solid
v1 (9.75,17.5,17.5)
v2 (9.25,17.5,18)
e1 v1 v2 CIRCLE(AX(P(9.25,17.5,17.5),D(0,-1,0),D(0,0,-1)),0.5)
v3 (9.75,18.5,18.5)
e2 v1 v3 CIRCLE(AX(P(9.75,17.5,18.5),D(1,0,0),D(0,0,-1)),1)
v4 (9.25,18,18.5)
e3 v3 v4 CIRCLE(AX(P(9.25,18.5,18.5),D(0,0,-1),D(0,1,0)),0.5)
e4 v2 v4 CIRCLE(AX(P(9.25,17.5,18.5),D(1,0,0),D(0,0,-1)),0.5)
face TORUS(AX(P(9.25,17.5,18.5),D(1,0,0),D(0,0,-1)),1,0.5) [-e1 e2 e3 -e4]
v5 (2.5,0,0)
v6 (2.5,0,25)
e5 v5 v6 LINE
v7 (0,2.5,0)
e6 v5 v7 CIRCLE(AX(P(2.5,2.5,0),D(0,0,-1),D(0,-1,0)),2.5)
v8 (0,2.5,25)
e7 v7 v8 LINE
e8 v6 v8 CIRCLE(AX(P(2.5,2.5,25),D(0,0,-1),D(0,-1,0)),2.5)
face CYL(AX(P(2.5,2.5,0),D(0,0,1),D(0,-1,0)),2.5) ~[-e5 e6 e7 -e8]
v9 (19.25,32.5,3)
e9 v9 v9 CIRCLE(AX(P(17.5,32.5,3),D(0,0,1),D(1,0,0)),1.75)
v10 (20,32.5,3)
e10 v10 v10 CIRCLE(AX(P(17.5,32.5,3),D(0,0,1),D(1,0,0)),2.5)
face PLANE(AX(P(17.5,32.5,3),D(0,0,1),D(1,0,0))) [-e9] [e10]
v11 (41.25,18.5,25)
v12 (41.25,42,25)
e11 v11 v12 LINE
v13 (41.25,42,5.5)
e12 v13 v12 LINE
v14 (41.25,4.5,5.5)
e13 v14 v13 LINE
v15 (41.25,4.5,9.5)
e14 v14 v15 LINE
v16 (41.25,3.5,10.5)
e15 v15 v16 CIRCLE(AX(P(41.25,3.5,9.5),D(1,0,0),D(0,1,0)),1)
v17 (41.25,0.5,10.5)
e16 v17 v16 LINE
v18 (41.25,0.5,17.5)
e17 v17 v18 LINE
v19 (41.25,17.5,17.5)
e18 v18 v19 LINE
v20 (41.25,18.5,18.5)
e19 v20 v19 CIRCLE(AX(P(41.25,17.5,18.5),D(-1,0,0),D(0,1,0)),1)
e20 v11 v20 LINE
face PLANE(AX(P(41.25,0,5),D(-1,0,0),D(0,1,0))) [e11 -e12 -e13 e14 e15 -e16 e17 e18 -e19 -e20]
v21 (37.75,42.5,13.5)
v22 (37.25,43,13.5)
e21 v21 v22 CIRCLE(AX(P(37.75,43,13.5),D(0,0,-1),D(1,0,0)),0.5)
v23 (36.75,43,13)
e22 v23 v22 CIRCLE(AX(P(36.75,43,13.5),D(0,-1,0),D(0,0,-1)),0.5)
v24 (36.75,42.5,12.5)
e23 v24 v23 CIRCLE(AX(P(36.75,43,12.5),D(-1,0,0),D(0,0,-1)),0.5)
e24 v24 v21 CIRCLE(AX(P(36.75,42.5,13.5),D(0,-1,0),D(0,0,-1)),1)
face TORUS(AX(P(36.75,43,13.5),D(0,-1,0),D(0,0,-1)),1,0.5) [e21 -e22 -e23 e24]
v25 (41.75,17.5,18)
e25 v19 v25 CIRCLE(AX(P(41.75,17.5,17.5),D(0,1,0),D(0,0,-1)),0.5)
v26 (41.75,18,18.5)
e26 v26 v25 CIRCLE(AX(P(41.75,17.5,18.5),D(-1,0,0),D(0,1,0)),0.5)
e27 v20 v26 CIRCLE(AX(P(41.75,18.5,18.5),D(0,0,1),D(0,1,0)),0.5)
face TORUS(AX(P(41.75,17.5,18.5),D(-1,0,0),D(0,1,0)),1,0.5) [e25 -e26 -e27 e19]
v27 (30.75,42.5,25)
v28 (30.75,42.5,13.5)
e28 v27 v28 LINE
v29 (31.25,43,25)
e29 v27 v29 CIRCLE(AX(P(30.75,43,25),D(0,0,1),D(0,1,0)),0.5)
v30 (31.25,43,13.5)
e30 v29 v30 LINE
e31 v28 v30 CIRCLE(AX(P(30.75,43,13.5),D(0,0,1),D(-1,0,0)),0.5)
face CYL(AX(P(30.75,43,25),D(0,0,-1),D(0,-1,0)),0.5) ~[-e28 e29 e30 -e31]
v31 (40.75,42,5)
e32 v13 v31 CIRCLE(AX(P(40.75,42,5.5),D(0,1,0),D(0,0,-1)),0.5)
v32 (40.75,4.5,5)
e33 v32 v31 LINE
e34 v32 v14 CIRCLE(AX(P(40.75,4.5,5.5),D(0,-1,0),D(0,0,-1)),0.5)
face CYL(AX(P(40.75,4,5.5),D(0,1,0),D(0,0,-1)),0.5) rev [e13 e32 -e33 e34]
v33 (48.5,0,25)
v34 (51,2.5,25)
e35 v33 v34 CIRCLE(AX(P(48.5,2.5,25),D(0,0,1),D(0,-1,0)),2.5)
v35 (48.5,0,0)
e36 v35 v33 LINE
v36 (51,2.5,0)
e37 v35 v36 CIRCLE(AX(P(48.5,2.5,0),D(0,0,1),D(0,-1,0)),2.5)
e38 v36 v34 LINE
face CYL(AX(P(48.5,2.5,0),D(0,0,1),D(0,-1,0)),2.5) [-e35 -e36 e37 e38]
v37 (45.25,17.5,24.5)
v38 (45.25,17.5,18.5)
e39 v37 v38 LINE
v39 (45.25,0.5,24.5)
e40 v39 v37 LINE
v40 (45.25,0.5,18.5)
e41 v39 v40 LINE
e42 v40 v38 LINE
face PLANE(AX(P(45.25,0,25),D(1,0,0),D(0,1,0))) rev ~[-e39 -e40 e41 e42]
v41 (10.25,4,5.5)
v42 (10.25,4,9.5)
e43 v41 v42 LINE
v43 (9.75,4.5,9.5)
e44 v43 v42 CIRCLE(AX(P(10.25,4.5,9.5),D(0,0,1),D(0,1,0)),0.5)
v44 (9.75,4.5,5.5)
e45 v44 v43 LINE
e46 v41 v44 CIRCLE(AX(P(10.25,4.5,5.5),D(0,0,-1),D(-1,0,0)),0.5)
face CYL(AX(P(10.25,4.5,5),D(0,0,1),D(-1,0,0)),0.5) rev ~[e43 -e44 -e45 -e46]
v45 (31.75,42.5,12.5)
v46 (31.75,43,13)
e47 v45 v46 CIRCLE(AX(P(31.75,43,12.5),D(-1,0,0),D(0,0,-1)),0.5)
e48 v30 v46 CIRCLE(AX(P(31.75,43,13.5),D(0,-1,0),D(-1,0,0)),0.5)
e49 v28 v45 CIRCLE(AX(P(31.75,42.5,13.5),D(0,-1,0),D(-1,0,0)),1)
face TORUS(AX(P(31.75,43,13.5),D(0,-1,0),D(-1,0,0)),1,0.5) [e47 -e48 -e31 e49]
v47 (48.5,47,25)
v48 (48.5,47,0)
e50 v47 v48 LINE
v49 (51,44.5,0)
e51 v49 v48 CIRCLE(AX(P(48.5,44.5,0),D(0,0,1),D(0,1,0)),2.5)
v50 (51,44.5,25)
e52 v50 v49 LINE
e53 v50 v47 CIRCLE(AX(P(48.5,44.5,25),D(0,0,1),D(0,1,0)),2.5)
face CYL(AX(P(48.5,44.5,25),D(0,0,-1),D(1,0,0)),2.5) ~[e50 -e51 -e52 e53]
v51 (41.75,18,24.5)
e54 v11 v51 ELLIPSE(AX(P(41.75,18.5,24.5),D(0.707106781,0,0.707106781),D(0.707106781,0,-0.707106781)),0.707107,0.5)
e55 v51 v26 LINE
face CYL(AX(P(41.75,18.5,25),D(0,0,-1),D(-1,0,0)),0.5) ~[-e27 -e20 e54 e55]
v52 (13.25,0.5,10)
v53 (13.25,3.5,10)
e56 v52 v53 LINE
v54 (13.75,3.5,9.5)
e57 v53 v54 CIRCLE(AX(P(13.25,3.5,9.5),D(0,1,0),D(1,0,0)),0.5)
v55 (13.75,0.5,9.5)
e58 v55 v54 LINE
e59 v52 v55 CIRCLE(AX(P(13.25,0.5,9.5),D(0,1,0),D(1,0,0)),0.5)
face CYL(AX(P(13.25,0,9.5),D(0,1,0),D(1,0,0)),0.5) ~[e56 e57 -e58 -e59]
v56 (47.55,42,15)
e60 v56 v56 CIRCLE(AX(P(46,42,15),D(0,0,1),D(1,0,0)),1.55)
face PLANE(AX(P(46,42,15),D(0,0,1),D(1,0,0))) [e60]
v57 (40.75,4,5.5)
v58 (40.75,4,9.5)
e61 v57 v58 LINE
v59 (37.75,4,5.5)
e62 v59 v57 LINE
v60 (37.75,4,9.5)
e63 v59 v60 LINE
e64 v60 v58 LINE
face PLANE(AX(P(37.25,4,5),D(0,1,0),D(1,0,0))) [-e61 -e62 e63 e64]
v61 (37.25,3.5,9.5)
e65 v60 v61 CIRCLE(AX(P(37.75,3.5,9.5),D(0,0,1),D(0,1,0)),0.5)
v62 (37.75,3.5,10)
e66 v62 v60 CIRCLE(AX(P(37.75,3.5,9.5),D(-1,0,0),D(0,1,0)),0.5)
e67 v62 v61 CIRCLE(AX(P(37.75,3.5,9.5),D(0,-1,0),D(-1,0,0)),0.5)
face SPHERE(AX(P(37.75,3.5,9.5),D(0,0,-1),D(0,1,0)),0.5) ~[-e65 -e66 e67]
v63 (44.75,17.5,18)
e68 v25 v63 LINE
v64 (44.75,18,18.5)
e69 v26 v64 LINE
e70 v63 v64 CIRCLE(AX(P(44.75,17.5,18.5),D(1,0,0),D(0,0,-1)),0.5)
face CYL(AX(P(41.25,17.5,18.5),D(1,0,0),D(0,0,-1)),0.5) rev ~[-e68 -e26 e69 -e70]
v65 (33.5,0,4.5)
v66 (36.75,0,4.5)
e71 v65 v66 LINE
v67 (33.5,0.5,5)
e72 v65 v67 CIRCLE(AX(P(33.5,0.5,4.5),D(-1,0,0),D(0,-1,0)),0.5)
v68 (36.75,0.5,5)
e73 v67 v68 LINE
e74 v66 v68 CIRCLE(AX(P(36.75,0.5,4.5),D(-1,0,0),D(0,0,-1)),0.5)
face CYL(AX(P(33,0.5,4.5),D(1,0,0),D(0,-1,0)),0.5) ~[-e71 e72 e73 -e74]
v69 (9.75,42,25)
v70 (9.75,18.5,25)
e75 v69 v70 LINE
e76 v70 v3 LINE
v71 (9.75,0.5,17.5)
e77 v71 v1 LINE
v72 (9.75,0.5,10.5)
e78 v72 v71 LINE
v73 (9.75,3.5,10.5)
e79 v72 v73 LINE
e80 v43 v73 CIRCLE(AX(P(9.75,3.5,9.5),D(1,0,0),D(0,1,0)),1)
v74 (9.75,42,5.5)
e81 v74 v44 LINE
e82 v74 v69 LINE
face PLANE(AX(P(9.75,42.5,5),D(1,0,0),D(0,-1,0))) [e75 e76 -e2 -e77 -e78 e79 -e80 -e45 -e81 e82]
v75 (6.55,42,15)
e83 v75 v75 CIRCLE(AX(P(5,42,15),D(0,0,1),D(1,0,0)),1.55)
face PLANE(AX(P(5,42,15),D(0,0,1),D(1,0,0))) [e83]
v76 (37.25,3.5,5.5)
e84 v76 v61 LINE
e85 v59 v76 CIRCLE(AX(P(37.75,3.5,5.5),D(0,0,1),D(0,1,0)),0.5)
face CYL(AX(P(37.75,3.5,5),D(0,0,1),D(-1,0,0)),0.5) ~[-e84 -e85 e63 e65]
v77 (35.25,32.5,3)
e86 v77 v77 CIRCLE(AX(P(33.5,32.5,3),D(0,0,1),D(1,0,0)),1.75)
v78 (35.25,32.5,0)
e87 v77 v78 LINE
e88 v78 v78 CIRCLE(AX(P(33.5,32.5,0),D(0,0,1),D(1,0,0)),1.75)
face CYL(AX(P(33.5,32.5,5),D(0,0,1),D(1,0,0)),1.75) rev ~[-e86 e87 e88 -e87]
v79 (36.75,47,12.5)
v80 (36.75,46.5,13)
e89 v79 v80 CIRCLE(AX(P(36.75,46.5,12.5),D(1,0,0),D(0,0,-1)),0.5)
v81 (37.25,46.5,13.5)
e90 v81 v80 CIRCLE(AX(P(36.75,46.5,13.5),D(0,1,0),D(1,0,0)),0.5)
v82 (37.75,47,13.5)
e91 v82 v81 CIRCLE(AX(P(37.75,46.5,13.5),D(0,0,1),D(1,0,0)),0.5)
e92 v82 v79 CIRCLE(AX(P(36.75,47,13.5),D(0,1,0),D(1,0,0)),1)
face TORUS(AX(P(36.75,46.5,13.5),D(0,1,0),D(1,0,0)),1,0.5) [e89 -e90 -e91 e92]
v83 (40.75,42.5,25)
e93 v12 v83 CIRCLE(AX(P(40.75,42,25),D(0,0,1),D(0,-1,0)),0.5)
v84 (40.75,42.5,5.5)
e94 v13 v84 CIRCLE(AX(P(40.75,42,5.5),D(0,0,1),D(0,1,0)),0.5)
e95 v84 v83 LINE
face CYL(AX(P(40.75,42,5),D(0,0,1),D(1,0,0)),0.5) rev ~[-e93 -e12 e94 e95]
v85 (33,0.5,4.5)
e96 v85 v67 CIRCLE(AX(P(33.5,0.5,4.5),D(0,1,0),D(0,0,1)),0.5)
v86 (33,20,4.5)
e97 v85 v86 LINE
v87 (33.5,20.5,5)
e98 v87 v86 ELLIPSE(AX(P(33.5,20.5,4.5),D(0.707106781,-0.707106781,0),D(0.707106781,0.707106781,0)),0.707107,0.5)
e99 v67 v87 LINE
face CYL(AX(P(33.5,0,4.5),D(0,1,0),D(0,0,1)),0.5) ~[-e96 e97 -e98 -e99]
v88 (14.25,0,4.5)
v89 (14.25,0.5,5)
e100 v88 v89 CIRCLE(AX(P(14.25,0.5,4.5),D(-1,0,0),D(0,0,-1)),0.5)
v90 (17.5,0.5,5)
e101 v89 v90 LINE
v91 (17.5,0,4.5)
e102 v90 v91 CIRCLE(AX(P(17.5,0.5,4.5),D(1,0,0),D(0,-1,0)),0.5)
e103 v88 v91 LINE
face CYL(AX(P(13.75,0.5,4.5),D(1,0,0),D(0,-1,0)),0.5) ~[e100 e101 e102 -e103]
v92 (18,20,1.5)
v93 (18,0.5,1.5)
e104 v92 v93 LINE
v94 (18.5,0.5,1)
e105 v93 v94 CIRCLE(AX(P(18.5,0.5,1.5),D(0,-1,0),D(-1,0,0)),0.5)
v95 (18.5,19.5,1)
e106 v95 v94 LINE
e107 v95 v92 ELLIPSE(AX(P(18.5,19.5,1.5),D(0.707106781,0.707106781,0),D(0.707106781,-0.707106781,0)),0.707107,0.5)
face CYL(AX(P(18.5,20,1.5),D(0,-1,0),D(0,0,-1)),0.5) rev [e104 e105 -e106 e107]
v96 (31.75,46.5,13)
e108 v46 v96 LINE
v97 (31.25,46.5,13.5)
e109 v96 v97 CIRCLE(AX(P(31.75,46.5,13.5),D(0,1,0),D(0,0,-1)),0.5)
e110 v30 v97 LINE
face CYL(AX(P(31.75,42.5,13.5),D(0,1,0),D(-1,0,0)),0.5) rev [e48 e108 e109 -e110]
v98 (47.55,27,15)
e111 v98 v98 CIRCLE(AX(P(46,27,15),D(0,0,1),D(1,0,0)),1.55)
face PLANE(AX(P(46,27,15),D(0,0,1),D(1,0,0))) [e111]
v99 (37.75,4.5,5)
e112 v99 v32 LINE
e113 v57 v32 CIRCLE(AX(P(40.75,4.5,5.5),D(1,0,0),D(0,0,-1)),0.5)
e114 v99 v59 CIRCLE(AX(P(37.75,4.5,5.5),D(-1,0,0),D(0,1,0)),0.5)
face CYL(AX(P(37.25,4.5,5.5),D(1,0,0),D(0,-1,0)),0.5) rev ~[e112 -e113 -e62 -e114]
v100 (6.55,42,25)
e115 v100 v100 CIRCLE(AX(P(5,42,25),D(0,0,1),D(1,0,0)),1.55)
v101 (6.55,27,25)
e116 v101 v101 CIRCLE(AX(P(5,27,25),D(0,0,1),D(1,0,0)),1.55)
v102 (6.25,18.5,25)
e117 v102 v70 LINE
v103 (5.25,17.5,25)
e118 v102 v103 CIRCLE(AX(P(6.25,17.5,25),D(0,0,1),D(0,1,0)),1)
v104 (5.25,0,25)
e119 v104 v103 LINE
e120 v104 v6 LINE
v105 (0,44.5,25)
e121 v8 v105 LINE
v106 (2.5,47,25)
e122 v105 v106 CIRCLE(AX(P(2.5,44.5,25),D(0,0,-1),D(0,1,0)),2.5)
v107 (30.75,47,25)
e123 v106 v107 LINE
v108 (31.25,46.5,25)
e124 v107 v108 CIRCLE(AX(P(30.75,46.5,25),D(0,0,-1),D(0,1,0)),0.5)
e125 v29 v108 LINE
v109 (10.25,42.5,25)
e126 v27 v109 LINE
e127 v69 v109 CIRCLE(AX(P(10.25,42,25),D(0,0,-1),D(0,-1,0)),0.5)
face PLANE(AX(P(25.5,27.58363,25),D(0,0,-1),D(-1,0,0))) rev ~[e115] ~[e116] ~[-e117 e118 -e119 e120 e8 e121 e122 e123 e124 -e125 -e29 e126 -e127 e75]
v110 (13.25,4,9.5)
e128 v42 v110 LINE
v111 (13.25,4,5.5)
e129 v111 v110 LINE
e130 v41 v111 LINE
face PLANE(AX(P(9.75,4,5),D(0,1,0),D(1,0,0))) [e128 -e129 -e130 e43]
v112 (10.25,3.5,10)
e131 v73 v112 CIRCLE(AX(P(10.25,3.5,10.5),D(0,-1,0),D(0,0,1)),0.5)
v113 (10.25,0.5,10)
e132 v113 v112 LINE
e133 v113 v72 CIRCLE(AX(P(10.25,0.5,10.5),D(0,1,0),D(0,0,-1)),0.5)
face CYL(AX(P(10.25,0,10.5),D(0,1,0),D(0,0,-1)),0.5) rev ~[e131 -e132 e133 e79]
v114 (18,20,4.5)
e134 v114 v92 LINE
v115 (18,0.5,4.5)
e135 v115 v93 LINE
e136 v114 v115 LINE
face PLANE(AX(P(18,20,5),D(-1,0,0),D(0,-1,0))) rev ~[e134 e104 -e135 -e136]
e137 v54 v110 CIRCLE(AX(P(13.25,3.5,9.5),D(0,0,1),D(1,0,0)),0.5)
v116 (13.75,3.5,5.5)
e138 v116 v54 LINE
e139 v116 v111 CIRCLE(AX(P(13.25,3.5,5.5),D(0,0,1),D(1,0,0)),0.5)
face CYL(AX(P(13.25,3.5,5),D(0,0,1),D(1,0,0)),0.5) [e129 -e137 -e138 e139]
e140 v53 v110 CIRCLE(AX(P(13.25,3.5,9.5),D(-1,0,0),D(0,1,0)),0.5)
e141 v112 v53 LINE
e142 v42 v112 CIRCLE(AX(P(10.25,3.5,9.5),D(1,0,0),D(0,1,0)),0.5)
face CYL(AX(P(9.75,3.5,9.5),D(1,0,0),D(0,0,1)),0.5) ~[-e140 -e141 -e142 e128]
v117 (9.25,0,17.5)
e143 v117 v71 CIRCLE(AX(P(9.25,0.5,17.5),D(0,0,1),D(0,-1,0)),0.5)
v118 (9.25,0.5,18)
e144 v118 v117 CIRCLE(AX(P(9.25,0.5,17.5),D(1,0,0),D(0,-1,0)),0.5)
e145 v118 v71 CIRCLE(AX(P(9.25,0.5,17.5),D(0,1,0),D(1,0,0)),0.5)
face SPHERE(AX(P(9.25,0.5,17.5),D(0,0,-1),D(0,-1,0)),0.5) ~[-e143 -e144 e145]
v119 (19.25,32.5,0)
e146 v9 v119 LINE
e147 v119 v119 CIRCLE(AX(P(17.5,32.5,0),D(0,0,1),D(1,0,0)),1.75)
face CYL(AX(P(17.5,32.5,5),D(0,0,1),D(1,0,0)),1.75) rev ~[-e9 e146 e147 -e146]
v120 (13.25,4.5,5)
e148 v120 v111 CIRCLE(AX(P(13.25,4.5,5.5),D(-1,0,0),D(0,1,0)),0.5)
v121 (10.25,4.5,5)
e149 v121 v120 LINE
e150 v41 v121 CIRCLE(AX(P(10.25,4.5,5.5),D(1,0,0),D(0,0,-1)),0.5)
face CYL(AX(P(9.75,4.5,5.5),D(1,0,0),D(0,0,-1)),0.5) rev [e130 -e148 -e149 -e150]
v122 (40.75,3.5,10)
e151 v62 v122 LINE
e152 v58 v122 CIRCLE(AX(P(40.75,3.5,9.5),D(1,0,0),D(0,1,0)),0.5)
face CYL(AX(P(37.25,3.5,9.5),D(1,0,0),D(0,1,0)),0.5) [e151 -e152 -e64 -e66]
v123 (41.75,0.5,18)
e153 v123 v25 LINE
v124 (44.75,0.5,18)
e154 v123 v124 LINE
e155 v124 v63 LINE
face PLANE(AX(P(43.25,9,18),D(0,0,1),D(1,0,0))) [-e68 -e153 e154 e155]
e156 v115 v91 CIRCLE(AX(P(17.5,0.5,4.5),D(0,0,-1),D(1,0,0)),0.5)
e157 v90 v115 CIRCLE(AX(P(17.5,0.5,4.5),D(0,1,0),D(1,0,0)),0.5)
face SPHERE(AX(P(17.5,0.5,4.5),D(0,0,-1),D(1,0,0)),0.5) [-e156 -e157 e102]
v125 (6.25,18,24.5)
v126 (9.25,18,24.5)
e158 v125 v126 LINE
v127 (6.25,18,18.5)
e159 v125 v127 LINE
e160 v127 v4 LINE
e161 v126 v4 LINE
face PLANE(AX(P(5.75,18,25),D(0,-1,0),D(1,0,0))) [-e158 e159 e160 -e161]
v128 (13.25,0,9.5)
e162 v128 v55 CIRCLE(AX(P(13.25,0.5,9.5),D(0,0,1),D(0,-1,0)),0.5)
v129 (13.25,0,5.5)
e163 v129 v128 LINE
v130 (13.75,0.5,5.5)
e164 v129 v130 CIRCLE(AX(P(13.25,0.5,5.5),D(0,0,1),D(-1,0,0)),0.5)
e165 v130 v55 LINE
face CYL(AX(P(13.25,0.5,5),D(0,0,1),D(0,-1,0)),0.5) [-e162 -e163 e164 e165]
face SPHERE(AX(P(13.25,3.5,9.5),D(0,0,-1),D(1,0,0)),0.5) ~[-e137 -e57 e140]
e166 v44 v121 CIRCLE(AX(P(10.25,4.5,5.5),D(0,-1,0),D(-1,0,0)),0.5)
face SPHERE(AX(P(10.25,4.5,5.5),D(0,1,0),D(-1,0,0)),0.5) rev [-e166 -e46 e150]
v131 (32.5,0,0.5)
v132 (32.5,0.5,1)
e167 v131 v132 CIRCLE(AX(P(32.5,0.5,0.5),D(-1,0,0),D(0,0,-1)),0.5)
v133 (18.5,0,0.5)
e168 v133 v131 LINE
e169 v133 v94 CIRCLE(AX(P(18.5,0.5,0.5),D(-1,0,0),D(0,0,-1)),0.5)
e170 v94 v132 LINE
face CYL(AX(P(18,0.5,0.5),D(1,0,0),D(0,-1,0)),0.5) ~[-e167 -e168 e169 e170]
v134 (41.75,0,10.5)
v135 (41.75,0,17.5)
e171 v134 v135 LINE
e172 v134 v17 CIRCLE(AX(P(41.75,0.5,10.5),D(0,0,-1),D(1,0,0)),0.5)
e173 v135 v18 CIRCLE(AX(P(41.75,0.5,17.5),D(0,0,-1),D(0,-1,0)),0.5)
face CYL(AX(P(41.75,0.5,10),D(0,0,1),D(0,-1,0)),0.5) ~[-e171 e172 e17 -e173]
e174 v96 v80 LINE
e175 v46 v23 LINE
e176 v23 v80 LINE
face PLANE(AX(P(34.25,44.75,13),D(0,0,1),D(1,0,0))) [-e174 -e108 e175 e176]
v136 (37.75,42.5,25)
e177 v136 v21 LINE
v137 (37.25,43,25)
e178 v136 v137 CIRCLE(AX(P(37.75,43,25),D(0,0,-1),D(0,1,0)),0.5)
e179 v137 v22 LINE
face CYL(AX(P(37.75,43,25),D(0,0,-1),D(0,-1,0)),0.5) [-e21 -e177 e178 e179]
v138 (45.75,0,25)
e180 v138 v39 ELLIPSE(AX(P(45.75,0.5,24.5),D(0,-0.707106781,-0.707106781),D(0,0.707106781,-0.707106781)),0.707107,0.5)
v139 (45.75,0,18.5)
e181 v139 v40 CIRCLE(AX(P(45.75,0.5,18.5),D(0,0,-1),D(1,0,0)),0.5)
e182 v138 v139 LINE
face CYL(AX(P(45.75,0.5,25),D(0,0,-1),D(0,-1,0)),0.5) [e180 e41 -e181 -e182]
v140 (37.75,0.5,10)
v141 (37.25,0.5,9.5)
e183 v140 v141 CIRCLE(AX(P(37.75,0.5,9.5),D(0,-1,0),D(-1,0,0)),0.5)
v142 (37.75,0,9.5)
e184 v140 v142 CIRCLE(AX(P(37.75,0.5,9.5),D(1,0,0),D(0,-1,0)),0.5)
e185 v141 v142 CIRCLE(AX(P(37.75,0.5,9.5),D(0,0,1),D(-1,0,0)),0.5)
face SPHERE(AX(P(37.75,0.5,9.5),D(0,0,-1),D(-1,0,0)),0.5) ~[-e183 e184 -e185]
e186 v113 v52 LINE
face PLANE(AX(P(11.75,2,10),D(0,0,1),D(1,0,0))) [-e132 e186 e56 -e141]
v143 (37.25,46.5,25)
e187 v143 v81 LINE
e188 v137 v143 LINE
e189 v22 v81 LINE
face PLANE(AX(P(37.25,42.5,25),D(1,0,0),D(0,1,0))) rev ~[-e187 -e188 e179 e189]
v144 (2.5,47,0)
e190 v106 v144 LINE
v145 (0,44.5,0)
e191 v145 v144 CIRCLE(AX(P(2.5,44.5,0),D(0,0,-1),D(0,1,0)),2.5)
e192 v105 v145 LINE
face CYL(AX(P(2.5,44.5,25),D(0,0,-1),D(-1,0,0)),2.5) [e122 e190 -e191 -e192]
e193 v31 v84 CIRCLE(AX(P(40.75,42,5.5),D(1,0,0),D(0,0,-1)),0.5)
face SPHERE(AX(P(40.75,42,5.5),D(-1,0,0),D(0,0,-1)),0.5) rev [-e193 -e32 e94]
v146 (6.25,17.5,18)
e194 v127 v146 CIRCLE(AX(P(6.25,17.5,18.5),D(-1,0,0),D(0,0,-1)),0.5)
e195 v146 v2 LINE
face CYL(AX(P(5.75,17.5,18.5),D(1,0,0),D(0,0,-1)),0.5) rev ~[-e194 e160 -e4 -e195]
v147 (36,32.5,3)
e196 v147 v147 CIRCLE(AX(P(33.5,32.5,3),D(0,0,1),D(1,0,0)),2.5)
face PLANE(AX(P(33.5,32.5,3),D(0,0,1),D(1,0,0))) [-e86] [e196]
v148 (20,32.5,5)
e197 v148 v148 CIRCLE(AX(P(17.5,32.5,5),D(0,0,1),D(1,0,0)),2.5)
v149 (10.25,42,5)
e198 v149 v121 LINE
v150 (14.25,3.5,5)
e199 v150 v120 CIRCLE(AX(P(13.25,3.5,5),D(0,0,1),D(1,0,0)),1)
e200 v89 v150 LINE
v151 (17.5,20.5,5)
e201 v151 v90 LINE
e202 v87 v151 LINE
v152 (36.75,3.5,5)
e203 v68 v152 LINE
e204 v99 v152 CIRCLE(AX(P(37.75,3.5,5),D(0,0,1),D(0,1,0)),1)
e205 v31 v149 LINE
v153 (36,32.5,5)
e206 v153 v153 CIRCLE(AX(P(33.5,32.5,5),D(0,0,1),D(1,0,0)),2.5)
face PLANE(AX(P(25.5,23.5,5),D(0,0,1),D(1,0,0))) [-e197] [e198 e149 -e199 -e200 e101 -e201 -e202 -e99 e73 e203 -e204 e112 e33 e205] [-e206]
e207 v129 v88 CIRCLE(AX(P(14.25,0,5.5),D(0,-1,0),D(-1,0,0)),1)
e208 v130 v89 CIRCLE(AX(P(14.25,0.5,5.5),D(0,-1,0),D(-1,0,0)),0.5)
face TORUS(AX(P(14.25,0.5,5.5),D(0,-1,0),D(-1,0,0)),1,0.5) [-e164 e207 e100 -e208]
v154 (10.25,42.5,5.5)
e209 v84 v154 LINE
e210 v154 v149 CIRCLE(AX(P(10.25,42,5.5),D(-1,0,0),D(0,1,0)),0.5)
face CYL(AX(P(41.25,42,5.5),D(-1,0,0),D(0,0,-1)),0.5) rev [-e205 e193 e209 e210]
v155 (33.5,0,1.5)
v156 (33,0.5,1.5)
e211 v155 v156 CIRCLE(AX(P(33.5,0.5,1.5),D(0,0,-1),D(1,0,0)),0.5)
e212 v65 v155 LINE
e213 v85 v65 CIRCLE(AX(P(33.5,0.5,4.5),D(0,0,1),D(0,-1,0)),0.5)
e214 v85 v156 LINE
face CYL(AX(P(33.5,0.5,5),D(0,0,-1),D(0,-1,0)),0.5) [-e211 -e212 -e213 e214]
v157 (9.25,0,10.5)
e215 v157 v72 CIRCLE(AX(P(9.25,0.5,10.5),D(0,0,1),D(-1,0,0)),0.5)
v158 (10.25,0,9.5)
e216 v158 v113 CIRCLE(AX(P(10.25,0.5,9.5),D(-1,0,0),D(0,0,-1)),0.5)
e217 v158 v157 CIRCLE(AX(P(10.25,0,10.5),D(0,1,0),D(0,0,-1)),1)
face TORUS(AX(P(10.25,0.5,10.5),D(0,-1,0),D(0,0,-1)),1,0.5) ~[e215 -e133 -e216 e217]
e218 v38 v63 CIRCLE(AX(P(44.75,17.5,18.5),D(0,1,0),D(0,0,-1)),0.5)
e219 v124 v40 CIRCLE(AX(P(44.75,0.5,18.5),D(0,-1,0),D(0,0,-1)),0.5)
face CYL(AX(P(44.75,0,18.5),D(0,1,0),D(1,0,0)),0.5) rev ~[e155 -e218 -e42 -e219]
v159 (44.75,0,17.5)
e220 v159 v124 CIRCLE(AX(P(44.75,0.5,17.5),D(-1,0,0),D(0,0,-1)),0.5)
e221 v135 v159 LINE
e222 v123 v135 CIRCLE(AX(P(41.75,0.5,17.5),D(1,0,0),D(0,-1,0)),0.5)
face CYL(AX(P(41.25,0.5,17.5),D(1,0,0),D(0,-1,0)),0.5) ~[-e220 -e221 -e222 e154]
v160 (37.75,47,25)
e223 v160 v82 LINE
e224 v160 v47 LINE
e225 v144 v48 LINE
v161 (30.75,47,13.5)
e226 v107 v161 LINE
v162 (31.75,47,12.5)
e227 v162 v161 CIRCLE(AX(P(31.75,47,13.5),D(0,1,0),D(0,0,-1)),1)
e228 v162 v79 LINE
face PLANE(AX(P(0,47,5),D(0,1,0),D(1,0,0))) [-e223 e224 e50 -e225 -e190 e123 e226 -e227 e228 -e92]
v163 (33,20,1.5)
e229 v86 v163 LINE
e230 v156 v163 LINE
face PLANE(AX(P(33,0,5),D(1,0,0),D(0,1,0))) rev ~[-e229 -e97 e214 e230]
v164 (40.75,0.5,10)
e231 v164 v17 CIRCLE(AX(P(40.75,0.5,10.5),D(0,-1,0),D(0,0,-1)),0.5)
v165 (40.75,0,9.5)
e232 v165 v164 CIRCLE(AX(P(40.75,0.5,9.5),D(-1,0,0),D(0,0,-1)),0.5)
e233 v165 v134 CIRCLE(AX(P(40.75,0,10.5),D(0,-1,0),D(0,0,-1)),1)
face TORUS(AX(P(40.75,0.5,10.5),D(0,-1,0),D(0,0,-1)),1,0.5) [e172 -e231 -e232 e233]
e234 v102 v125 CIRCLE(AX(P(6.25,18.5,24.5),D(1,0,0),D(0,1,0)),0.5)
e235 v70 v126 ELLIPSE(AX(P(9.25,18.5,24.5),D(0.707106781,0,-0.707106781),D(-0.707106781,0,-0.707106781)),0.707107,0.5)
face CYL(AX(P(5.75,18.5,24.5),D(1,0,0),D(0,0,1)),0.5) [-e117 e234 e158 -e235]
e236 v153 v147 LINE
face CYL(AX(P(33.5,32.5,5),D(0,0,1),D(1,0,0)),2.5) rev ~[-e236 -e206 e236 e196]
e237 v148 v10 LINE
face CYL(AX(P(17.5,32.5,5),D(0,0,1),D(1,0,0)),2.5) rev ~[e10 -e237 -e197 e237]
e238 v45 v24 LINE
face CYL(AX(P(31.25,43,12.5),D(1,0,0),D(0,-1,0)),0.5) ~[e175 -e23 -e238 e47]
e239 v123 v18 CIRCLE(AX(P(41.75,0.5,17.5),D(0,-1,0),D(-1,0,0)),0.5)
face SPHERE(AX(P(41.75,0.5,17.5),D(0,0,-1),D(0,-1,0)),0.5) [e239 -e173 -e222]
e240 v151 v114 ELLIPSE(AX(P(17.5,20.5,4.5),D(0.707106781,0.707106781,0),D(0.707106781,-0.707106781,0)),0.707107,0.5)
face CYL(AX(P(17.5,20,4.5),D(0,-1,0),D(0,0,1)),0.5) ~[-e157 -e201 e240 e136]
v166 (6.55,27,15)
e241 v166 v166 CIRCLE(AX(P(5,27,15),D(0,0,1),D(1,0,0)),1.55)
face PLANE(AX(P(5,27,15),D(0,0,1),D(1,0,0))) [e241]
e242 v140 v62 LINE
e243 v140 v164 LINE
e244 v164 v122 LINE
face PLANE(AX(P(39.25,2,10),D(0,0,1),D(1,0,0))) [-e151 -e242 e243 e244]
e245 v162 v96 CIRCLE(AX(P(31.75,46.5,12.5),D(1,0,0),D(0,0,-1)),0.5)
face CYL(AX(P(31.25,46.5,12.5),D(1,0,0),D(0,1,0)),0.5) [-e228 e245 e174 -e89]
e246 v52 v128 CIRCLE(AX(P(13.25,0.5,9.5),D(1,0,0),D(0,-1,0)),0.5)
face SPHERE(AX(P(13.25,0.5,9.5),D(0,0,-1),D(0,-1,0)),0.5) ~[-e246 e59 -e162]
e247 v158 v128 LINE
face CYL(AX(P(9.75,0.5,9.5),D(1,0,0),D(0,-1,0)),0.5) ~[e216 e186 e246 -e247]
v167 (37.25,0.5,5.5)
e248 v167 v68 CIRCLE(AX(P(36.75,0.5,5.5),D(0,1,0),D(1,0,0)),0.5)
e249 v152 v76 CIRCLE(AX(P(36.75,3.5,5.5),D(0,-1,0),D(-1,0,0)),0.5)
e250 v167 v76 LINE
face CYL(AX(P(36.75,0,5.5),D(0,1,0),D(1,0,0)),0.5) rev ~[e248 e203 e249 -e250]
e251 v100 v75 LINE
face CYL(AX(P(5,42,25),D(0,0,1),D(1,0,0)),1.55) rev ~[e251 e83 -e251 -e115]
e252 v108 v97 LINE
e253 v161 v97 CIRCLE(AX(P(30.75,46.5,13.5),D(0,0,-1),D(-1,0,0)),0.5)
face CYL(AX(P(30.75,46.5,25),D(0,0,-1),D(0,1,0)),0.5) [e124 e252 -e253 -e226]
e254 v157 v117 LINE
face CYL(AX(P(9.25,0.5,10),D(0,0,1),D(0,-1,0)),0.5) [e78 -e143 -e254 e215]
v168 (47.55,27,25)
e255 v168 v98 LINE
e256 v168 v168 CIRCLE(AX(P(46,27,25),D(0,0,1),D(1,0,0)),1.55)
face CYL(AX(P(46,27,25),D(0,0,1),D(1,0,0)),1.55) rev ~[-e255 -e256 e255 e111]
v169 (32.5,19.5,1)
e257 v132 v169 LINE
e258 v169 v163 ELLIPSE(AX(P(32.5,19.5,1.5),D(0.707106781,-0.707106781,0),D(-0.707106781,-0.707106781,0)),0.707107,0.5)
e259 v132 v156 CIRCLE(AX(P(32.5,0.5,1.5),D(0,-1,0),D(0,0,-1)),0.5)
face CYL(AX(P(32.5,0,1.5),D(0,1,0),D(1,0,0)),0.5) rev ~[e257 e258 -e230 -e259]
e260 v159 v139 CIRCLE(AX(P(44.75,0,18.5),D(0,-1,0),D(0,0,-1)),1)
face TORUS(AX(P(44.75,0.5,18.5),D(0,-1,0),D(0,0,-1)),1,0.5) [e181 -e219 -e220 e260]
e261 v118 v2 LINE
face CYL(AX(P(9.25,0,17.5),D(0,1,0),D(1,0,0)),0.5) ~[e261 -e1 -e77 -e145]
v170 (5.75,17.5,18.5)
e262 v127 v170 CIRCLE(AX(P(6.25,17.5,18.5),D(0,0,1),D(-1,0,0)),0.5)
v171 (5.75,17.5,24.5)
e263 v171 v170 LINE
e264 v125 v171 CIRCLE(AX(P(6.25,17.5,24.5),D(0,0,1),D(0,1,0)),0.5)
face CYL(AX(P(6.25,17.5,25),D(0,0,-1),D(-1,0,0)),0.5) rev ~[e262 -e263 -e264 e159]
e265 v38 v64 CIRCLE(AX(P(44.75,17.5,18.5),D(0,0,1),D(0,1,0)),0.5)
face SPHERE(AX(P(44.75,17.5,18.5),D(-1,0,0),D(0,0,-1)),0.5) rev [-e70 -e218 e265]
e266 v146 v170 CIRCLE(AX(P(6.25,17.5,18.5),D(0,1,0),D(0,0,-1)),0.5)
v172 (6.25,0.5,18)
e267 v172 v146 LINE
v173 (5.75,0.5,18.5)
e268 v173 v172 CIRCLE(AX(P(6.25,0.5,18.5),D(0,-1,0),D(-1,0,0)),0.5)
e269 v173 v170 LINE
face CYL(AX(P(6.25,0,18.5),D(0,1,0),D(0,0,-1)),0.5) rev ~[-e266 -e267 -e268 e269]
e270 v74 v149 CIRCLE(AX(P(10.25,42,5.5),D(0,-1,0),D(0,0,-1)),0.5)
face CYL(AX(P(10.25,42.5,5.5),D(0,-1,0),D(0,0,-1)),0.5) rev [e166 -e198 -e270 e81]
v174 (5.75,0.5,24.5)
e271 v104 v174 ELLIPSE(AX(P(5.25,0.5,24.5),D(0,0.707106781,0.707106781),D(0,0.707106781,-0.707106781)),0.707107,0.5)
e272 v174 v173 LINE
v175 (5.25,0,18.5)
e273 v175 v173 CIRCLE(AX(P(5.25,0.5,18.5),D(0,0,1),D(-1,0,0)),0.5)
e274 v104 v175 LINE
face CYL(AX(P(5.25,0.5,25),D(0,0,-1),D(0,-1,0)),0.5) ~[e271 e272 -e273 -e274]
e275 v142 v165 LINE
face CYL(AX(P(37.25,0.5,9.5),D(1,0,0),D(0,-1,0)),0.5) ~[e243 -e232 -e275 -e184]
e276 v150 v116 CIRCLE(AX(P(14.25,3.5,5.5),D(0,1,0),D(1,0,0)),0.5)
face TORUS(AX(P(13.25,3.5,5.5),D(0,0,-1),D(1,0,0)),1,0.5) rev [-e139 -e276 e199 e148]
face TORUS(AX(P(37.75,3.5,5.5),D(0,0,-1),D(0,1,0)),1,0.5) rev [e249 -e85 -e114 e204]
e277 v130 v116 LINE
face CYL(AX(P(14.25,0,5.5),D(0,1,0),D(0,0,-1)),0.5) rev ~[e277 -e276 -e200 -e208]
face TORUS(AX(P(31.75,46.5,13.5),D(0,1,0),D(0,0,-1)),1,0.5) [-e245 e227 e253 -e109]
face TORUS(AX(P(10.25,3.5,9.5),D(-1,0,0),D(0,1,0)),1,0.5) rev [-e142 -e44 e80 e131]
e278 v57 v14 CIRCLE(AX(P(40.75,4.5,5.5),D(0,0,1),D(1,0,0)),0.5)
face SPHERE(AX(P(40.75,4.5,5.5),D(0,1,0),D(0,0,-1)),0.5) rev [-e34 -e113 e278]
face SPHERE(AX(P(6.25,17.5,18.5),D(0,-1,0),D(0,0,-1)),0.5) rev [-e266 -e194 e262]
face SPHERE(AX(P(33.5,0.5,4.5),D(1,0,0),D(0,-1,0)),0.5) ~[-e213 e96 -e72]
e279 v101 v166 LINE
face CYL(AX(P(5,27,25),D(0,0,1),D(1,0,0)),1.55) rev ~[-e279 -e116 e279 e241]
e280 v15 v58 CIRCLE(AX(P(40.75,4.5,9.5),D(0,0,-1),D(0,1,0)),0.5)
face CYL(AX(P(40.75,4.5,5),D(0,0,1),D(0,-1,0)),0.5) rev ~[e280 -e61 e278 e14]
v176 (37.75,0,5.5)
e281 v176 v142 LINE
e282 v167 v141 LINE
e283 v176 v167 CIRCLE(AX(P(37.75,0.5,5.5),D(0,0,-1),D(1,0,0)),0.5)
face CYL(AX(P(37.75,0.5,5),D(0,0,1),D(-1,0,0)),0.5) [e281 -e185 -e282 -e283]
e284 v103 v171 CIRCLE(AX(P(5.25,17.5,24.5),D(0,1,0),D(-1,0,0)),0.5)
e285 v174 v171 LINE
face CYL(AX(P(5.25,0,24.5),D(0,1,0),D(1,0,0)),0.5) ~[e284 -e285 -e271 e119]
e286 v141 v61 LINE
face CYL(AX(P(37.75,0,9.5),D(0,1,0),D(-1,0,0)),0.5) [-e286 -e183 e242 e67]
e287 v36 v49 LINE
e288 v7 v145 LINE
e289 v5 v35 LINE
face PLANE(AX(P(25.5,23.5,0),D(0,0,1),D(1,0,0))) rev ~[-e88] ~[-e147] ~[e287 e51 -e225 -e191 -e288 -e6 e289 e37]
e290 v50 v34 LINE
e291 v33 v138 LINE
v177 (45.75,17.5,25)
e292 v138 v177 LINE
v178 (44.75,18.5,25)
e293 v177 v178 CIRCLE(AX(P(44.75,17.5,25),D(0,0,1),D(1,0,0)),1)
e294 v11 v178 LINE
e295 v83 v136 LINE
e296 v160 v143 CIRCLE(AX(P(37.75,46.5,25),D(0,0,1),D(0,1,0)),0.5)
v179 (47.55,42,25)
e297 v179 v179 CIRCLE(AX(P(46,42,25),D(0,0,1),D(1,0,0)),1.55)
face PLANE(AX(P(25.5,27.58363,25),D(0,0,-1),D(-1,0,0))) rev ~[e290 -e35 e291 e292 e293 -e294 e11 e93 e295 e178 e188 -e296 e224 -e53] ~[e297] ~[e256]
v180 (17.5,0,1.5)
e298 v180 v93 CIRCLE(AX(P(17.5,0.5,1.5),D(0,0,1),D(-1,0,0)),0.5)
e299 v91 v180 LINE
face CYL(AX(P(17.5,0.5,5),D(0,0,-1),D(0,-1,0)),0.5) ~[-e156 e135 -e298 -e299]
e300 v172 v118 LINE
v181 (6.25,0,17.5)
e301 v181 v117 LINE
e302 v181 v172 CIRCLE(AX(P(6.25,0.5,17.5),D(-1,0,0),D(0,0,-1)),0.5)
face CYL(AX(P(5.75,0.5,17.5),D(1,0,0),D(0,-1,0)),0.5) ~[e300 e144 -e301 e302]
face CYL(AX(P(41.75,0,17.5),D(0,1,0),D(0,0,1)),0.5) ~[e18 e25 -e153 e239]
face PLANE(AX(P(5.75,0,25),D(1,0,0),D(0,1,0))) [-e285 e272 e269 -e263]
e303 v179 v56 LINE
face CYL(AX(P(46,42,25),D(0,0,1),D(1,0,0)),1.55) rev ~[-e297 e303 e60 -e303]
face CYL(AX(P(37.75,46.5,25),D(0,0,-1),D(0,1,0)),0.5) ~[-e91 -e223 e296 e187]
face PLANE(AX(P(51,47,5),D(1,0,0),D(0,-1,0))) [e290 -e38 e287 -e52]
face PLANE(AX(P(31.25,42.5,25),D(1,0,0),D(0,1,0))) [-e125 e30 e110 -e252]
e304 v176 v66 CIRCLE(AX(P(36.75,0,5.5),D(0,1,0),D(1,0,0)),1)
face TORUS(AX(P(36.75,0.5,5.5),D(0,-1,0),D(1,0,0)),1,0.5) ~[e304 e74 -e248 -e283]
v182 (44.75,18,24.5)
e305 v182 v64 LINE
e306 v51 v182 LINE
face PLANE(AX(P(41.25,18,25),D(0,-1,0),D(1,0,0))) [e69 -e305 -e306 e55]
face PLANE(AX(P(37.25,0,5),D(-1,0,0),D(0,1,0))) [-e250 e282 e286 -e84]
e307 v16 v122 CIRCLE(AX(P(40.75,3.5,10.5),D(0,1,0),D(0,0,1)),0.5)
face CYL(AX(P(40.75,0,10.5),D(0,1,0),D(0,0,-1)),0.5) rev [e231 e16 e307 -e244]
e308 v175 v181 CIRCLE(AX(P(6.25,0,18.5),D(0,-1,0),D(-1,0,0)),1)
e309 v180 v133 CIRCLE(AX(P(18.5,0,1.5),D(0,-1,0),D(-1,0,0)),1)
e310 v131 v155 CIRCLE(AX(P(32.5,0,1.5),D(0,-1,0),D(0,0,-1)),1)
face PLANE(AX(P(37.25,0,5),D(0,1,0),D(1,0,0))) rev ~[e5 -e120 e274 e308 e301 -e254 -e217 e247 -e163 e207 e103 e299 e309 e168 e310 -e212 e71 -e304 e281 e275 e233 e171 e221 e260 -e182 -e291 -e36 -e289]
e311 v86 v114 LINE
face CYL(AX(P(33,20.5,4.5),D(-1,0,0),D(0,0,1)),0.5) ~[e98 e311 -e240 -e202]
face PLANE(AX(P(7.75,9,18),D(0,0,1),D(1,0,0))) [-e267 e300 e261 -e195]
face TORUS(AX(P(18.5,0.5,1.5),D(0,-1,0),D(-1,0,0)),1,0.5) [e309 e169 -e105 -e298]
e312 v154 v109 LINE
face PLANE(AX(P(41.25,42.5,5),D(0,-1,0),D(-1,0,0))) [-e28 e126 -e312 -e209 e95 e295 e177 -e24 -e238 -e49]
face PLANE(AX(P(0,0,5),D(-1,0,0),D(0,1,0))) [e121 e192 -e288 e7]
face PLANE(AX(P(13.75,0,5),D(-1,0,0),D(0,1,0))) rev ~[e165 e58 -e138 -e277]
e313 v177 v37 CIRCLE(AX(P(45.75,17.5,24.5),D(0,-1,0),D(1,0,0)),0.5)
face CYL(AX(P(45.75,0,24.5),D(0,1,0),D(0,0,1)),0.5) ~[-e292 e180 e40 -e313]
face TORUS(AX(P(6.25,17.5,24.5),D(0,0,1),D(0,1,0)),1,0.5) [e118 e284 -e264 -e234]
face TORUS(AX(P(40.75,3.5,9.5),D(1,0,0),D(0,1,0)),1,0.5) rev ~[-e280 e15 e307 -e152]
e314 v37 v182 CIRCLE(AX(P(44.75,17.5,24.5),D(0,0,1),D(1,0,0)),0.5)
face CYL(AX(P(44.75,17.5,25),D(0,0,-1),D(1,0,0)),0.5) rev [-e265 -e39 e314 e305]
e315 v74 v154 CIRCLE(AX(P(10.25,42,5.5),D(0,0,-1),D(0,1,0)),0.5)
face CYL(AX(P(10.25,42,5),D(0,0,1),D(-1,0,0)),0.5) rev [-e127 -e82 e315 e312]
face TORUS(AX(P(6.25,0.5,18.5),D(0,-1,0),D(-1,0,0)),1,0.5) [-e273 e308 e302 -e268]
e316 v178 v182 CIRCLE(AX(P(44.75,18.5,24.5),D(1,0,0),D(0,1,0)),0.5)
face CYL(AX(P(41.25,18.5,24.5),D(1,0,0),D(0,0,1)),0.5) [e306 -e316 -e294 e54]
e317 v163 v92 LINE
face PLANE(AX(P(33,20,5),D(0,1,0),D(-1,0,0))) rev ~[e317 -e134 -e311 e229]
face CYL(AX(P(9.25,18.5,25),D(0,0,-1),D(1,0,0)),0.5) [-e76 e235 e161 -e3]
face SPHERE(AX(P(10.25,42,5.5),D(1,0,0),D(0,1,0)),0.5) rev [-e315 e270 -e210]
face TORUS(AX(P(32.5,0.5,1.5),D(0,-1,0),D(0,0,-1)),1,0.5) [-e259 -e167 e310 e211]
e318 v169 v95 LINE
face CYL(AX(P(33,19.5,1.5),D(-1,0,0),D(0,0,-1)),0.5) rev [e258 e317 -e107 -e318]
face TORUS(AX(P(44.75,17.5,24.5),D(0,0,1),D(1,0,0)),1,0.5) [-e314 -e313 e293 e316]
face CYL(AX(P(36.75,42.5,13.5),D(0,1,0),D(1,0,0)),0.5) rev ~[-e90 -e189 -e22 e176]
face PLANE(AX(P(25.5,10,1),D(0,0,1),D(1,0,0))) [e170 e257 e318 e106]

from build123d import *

# Parameters (mm, degrees)
SKETCH1_W           = 51
SKETCH1_H           = 47
BOSS_EXTRUDE1_DEPTH = 5
BOSS_EXTRUDE2_DEPTH = 20
SKETCH4_W           = 4
SKETCH4_H           = 4
BOSS_EXTRUDE3_DEPTH = 5
SKETCH5_W           = 4
SKETCH5_H           = 18
CUT_EXTRUDE1_DEPTH  = 7
SKETCH7_W           = 6
SKETCH7_H           = 4.5
CUT_EXTRUDE2_DEPTH  = 12
CUT_EXTRUDE3_DEPTH  = 4
SKETCH9_R           = 1.55
CUT_EXTRUDE4_DEPTH  = 10
SKETCH10_R          = 1.75
CUT_EXTRUDE5_DEPTH  = 73.18032973
SKETCH11_R          = 2.5
CUT_EXTRUDE6_DEPTH  = 2
FILLET1_R           = 0.5
FILLET2_R           = 2.5


with BuildPart() as part:
    # Sketch1 → Boss-Extrude1 (new body)
    with BuildSketch(Plane.XY):
        with Locations((25.5, 23.5)):
            Rectangle(SKETCH1_W, SKETCH1_H)
    extrude(amount=BOSS_EXTRUDE1_DEPTH)

    # Sketch2 → Boss-Extrude2 (add)
    with BuildSketch(Plane.XY.offset(5)):
        Polygon((0, 0), (0, 47), (51, 47), (51, 0), (41.25, 0), (41.25, 42.5), (9.75, 42.5), (9.75, 0), align=None)
    extrude(amount=BOSS_EXTRUDE2_DEPTH)

    # Sketch4 → Boss-Extrude3 (add)
    with BuildSketch(Plane.XY.offset(5)):
        with Locations((39.25, 2)):
            Rectangle(SKETCH4_W, SKETCH4_H)
        with Locations((11.75, 2)):
            Rectangle(SKETCH4_W, SKETCH4_H)
    extrude(amount=BOSS_EXTRUDE3_DEPTH)

    # Sketch5 → Cut-Extrude1 (cut)
    with BuildSketch(Plane.XY.offset(25)):
        with Locations((43.25, 9)):
            Rectangle(SKETCH5_W, SKETCH5_H)
        with Locations((7.75, 9)):
            Rectangle(SKETCH5_W, SKETCH5_H)
    extrude(amount=-CUT_EXTRUDE1_DEPTH, mode=Mode.SUBTRACT)

    # Sketch7 → Cut-Extrude2 (cut)
    with BuildSketch(Plane.XY.offset(25)):
        with Locations((34.25, 44.75)):
            Rectangle(SKETCH7_W, SKETCH7_H)
    extrude(amount=-CUT_EXTRUDE2_DEPTH, mode=Mode.SUBTRACT)

    # Sketch8 → Cut-Extrude3 (cut)
    with BuildSketch(Plane.XY.offset(5)):
        Polygon((25.5, 0), (33, 0), (33, 20), (18, 20), (18, 0), align=None)
    extrude(amount=-CUT_EXTRUDE3_DEPTH, mode=Mode.SUBTRACT)

    # Sketch9 → Cut-Extrude4 (cut)
    with BuildSketch(Plane.XY.offset(25)):
        with Locations((5, 27)):
            Circle(SKETCH9_R)
        with Locations((5, 42)):
            Circle(SKETCH9_R)
        with Locations((46, 42)):
            Circle(SKETCH9_R)
        with Locations((46, 27)):
            Circle(SKETCH9_R)
    extrude(amount=-CUT_EXTRUDE4_DEPTH, mode=Mode.SUBTRACT)

    # Sketch10 → Cut-Extrude5 (cut, through all)
    with BuildSketch(Plane.XY.offset(5)):
        with Locations((17.5, 32.5)):
            Circle(SKETCH10_R)
        with Locations((33.5, 32.5)):
            Circle(SKETCH10_R)
    extrude(amount=-CUT_EXTRUDE5_DEPTH, mode=Mode.SUBTRACT)

    # Sketch11 → Cut-Extrude6 (cut)
    with BuildSketch(Plane.XY.offset(5)):
        with Locations((17.5, 32.5)):
            Circle(SKETCH11_R)
        with Locations((33.5, 32.5)):
            Circle(SKETCH11_R)
    extrude(amount=-CUT_EXTRUDE6_DEPTH, mode=Mode.SUBTRACT)

    # Fillet1
    fillet1_edges = [part.edges().sort_by_distance(p)[0] for p in [
        (35.125, 0, 5),
        (18, 10, 1),
        (18, 0, 3),
        (25.5, 20, 1),
        (33, 10, 1),
        (25.5, 0, 1),
        (33, 0, 3),
        (18, 10, 5),
        (33, 10, 5),
        (25.5, 20, 5),
        (25.5, 42.5, 5),
        (9.75, 42.5, 15),
        (41.25, 23.25, 5),
        (41.25, 42.5, 15),
        (39.25, 4, 5),
        (41.25, 4, 7.5),
        (37.25, 2, 5),
        (37.25, 4, 7.5),
        (37.25, 0, 7.5),
        (41.25, 2, 10),
        (39.25, 4, 10),
        (37.25, 2, 10),
        (39.25, 0, 10),
        (9.75, 23.25, 5),
        (15.875, 0, 5),
        (9.75, 4, 7.5),
        (13.75, 2, 5),
        (13.75, 0, 7.5),
        (11.75, 4, 5),
        (13.75, 4, 7.5),
        (9.75, 2, 10),
        (11.75, 0, 10),
        (13.75, 2, 10),
        (11.75, 4, 10),
        (9.75, 0, 14),
        (41.25, 0, 14),
        (43.25, 0, 18),
        (45.25, 0, 21.5),
        (41.25, 9, 18),
        (43.25, 18, 18),
        (41.25, 18, 21.5),
        (45.25, 9, 18),
        (45.25, 18, 21.5),
        (45.25, 9, 25),
        (43.25, 18, 25),
        (7.75, 0, 18),
        (5.75, 9, 18),
        (5.75, 0, 21.5),
        (7.75, 18, 18),
        (5.75, 18, 21.5),
        (9.75, 9, 18),
        (9.75, 18, 21.5),
        (7.75, 18, 25),
        (5.75, 9, 25),
        (34.25, 47, 13),
        (31.25, 47, 19),
        (37.25, 44.75, 13),
        (37.25, 47, 19),
        (34.25, 42.5, 13),
        (37.25, 42.5, 19),
        (31.25, 44.75, 13),
        (31.25, 42.5, 19),
    ]]
    fillet(fillet1_edges, radius=FILLET1_R)

    # Fillet2
    fillet2_edges = [part.edges().sort_by_distance(p)[0] for p in [
        (0, 47, 12.5),
        (51, 47, 12.5),
        (51, 0, 12.5),
        (0, 0, 12.5),
    ]]
    fillet(fillet2_edges, radius=FILLET2_R)


solid = part.part
